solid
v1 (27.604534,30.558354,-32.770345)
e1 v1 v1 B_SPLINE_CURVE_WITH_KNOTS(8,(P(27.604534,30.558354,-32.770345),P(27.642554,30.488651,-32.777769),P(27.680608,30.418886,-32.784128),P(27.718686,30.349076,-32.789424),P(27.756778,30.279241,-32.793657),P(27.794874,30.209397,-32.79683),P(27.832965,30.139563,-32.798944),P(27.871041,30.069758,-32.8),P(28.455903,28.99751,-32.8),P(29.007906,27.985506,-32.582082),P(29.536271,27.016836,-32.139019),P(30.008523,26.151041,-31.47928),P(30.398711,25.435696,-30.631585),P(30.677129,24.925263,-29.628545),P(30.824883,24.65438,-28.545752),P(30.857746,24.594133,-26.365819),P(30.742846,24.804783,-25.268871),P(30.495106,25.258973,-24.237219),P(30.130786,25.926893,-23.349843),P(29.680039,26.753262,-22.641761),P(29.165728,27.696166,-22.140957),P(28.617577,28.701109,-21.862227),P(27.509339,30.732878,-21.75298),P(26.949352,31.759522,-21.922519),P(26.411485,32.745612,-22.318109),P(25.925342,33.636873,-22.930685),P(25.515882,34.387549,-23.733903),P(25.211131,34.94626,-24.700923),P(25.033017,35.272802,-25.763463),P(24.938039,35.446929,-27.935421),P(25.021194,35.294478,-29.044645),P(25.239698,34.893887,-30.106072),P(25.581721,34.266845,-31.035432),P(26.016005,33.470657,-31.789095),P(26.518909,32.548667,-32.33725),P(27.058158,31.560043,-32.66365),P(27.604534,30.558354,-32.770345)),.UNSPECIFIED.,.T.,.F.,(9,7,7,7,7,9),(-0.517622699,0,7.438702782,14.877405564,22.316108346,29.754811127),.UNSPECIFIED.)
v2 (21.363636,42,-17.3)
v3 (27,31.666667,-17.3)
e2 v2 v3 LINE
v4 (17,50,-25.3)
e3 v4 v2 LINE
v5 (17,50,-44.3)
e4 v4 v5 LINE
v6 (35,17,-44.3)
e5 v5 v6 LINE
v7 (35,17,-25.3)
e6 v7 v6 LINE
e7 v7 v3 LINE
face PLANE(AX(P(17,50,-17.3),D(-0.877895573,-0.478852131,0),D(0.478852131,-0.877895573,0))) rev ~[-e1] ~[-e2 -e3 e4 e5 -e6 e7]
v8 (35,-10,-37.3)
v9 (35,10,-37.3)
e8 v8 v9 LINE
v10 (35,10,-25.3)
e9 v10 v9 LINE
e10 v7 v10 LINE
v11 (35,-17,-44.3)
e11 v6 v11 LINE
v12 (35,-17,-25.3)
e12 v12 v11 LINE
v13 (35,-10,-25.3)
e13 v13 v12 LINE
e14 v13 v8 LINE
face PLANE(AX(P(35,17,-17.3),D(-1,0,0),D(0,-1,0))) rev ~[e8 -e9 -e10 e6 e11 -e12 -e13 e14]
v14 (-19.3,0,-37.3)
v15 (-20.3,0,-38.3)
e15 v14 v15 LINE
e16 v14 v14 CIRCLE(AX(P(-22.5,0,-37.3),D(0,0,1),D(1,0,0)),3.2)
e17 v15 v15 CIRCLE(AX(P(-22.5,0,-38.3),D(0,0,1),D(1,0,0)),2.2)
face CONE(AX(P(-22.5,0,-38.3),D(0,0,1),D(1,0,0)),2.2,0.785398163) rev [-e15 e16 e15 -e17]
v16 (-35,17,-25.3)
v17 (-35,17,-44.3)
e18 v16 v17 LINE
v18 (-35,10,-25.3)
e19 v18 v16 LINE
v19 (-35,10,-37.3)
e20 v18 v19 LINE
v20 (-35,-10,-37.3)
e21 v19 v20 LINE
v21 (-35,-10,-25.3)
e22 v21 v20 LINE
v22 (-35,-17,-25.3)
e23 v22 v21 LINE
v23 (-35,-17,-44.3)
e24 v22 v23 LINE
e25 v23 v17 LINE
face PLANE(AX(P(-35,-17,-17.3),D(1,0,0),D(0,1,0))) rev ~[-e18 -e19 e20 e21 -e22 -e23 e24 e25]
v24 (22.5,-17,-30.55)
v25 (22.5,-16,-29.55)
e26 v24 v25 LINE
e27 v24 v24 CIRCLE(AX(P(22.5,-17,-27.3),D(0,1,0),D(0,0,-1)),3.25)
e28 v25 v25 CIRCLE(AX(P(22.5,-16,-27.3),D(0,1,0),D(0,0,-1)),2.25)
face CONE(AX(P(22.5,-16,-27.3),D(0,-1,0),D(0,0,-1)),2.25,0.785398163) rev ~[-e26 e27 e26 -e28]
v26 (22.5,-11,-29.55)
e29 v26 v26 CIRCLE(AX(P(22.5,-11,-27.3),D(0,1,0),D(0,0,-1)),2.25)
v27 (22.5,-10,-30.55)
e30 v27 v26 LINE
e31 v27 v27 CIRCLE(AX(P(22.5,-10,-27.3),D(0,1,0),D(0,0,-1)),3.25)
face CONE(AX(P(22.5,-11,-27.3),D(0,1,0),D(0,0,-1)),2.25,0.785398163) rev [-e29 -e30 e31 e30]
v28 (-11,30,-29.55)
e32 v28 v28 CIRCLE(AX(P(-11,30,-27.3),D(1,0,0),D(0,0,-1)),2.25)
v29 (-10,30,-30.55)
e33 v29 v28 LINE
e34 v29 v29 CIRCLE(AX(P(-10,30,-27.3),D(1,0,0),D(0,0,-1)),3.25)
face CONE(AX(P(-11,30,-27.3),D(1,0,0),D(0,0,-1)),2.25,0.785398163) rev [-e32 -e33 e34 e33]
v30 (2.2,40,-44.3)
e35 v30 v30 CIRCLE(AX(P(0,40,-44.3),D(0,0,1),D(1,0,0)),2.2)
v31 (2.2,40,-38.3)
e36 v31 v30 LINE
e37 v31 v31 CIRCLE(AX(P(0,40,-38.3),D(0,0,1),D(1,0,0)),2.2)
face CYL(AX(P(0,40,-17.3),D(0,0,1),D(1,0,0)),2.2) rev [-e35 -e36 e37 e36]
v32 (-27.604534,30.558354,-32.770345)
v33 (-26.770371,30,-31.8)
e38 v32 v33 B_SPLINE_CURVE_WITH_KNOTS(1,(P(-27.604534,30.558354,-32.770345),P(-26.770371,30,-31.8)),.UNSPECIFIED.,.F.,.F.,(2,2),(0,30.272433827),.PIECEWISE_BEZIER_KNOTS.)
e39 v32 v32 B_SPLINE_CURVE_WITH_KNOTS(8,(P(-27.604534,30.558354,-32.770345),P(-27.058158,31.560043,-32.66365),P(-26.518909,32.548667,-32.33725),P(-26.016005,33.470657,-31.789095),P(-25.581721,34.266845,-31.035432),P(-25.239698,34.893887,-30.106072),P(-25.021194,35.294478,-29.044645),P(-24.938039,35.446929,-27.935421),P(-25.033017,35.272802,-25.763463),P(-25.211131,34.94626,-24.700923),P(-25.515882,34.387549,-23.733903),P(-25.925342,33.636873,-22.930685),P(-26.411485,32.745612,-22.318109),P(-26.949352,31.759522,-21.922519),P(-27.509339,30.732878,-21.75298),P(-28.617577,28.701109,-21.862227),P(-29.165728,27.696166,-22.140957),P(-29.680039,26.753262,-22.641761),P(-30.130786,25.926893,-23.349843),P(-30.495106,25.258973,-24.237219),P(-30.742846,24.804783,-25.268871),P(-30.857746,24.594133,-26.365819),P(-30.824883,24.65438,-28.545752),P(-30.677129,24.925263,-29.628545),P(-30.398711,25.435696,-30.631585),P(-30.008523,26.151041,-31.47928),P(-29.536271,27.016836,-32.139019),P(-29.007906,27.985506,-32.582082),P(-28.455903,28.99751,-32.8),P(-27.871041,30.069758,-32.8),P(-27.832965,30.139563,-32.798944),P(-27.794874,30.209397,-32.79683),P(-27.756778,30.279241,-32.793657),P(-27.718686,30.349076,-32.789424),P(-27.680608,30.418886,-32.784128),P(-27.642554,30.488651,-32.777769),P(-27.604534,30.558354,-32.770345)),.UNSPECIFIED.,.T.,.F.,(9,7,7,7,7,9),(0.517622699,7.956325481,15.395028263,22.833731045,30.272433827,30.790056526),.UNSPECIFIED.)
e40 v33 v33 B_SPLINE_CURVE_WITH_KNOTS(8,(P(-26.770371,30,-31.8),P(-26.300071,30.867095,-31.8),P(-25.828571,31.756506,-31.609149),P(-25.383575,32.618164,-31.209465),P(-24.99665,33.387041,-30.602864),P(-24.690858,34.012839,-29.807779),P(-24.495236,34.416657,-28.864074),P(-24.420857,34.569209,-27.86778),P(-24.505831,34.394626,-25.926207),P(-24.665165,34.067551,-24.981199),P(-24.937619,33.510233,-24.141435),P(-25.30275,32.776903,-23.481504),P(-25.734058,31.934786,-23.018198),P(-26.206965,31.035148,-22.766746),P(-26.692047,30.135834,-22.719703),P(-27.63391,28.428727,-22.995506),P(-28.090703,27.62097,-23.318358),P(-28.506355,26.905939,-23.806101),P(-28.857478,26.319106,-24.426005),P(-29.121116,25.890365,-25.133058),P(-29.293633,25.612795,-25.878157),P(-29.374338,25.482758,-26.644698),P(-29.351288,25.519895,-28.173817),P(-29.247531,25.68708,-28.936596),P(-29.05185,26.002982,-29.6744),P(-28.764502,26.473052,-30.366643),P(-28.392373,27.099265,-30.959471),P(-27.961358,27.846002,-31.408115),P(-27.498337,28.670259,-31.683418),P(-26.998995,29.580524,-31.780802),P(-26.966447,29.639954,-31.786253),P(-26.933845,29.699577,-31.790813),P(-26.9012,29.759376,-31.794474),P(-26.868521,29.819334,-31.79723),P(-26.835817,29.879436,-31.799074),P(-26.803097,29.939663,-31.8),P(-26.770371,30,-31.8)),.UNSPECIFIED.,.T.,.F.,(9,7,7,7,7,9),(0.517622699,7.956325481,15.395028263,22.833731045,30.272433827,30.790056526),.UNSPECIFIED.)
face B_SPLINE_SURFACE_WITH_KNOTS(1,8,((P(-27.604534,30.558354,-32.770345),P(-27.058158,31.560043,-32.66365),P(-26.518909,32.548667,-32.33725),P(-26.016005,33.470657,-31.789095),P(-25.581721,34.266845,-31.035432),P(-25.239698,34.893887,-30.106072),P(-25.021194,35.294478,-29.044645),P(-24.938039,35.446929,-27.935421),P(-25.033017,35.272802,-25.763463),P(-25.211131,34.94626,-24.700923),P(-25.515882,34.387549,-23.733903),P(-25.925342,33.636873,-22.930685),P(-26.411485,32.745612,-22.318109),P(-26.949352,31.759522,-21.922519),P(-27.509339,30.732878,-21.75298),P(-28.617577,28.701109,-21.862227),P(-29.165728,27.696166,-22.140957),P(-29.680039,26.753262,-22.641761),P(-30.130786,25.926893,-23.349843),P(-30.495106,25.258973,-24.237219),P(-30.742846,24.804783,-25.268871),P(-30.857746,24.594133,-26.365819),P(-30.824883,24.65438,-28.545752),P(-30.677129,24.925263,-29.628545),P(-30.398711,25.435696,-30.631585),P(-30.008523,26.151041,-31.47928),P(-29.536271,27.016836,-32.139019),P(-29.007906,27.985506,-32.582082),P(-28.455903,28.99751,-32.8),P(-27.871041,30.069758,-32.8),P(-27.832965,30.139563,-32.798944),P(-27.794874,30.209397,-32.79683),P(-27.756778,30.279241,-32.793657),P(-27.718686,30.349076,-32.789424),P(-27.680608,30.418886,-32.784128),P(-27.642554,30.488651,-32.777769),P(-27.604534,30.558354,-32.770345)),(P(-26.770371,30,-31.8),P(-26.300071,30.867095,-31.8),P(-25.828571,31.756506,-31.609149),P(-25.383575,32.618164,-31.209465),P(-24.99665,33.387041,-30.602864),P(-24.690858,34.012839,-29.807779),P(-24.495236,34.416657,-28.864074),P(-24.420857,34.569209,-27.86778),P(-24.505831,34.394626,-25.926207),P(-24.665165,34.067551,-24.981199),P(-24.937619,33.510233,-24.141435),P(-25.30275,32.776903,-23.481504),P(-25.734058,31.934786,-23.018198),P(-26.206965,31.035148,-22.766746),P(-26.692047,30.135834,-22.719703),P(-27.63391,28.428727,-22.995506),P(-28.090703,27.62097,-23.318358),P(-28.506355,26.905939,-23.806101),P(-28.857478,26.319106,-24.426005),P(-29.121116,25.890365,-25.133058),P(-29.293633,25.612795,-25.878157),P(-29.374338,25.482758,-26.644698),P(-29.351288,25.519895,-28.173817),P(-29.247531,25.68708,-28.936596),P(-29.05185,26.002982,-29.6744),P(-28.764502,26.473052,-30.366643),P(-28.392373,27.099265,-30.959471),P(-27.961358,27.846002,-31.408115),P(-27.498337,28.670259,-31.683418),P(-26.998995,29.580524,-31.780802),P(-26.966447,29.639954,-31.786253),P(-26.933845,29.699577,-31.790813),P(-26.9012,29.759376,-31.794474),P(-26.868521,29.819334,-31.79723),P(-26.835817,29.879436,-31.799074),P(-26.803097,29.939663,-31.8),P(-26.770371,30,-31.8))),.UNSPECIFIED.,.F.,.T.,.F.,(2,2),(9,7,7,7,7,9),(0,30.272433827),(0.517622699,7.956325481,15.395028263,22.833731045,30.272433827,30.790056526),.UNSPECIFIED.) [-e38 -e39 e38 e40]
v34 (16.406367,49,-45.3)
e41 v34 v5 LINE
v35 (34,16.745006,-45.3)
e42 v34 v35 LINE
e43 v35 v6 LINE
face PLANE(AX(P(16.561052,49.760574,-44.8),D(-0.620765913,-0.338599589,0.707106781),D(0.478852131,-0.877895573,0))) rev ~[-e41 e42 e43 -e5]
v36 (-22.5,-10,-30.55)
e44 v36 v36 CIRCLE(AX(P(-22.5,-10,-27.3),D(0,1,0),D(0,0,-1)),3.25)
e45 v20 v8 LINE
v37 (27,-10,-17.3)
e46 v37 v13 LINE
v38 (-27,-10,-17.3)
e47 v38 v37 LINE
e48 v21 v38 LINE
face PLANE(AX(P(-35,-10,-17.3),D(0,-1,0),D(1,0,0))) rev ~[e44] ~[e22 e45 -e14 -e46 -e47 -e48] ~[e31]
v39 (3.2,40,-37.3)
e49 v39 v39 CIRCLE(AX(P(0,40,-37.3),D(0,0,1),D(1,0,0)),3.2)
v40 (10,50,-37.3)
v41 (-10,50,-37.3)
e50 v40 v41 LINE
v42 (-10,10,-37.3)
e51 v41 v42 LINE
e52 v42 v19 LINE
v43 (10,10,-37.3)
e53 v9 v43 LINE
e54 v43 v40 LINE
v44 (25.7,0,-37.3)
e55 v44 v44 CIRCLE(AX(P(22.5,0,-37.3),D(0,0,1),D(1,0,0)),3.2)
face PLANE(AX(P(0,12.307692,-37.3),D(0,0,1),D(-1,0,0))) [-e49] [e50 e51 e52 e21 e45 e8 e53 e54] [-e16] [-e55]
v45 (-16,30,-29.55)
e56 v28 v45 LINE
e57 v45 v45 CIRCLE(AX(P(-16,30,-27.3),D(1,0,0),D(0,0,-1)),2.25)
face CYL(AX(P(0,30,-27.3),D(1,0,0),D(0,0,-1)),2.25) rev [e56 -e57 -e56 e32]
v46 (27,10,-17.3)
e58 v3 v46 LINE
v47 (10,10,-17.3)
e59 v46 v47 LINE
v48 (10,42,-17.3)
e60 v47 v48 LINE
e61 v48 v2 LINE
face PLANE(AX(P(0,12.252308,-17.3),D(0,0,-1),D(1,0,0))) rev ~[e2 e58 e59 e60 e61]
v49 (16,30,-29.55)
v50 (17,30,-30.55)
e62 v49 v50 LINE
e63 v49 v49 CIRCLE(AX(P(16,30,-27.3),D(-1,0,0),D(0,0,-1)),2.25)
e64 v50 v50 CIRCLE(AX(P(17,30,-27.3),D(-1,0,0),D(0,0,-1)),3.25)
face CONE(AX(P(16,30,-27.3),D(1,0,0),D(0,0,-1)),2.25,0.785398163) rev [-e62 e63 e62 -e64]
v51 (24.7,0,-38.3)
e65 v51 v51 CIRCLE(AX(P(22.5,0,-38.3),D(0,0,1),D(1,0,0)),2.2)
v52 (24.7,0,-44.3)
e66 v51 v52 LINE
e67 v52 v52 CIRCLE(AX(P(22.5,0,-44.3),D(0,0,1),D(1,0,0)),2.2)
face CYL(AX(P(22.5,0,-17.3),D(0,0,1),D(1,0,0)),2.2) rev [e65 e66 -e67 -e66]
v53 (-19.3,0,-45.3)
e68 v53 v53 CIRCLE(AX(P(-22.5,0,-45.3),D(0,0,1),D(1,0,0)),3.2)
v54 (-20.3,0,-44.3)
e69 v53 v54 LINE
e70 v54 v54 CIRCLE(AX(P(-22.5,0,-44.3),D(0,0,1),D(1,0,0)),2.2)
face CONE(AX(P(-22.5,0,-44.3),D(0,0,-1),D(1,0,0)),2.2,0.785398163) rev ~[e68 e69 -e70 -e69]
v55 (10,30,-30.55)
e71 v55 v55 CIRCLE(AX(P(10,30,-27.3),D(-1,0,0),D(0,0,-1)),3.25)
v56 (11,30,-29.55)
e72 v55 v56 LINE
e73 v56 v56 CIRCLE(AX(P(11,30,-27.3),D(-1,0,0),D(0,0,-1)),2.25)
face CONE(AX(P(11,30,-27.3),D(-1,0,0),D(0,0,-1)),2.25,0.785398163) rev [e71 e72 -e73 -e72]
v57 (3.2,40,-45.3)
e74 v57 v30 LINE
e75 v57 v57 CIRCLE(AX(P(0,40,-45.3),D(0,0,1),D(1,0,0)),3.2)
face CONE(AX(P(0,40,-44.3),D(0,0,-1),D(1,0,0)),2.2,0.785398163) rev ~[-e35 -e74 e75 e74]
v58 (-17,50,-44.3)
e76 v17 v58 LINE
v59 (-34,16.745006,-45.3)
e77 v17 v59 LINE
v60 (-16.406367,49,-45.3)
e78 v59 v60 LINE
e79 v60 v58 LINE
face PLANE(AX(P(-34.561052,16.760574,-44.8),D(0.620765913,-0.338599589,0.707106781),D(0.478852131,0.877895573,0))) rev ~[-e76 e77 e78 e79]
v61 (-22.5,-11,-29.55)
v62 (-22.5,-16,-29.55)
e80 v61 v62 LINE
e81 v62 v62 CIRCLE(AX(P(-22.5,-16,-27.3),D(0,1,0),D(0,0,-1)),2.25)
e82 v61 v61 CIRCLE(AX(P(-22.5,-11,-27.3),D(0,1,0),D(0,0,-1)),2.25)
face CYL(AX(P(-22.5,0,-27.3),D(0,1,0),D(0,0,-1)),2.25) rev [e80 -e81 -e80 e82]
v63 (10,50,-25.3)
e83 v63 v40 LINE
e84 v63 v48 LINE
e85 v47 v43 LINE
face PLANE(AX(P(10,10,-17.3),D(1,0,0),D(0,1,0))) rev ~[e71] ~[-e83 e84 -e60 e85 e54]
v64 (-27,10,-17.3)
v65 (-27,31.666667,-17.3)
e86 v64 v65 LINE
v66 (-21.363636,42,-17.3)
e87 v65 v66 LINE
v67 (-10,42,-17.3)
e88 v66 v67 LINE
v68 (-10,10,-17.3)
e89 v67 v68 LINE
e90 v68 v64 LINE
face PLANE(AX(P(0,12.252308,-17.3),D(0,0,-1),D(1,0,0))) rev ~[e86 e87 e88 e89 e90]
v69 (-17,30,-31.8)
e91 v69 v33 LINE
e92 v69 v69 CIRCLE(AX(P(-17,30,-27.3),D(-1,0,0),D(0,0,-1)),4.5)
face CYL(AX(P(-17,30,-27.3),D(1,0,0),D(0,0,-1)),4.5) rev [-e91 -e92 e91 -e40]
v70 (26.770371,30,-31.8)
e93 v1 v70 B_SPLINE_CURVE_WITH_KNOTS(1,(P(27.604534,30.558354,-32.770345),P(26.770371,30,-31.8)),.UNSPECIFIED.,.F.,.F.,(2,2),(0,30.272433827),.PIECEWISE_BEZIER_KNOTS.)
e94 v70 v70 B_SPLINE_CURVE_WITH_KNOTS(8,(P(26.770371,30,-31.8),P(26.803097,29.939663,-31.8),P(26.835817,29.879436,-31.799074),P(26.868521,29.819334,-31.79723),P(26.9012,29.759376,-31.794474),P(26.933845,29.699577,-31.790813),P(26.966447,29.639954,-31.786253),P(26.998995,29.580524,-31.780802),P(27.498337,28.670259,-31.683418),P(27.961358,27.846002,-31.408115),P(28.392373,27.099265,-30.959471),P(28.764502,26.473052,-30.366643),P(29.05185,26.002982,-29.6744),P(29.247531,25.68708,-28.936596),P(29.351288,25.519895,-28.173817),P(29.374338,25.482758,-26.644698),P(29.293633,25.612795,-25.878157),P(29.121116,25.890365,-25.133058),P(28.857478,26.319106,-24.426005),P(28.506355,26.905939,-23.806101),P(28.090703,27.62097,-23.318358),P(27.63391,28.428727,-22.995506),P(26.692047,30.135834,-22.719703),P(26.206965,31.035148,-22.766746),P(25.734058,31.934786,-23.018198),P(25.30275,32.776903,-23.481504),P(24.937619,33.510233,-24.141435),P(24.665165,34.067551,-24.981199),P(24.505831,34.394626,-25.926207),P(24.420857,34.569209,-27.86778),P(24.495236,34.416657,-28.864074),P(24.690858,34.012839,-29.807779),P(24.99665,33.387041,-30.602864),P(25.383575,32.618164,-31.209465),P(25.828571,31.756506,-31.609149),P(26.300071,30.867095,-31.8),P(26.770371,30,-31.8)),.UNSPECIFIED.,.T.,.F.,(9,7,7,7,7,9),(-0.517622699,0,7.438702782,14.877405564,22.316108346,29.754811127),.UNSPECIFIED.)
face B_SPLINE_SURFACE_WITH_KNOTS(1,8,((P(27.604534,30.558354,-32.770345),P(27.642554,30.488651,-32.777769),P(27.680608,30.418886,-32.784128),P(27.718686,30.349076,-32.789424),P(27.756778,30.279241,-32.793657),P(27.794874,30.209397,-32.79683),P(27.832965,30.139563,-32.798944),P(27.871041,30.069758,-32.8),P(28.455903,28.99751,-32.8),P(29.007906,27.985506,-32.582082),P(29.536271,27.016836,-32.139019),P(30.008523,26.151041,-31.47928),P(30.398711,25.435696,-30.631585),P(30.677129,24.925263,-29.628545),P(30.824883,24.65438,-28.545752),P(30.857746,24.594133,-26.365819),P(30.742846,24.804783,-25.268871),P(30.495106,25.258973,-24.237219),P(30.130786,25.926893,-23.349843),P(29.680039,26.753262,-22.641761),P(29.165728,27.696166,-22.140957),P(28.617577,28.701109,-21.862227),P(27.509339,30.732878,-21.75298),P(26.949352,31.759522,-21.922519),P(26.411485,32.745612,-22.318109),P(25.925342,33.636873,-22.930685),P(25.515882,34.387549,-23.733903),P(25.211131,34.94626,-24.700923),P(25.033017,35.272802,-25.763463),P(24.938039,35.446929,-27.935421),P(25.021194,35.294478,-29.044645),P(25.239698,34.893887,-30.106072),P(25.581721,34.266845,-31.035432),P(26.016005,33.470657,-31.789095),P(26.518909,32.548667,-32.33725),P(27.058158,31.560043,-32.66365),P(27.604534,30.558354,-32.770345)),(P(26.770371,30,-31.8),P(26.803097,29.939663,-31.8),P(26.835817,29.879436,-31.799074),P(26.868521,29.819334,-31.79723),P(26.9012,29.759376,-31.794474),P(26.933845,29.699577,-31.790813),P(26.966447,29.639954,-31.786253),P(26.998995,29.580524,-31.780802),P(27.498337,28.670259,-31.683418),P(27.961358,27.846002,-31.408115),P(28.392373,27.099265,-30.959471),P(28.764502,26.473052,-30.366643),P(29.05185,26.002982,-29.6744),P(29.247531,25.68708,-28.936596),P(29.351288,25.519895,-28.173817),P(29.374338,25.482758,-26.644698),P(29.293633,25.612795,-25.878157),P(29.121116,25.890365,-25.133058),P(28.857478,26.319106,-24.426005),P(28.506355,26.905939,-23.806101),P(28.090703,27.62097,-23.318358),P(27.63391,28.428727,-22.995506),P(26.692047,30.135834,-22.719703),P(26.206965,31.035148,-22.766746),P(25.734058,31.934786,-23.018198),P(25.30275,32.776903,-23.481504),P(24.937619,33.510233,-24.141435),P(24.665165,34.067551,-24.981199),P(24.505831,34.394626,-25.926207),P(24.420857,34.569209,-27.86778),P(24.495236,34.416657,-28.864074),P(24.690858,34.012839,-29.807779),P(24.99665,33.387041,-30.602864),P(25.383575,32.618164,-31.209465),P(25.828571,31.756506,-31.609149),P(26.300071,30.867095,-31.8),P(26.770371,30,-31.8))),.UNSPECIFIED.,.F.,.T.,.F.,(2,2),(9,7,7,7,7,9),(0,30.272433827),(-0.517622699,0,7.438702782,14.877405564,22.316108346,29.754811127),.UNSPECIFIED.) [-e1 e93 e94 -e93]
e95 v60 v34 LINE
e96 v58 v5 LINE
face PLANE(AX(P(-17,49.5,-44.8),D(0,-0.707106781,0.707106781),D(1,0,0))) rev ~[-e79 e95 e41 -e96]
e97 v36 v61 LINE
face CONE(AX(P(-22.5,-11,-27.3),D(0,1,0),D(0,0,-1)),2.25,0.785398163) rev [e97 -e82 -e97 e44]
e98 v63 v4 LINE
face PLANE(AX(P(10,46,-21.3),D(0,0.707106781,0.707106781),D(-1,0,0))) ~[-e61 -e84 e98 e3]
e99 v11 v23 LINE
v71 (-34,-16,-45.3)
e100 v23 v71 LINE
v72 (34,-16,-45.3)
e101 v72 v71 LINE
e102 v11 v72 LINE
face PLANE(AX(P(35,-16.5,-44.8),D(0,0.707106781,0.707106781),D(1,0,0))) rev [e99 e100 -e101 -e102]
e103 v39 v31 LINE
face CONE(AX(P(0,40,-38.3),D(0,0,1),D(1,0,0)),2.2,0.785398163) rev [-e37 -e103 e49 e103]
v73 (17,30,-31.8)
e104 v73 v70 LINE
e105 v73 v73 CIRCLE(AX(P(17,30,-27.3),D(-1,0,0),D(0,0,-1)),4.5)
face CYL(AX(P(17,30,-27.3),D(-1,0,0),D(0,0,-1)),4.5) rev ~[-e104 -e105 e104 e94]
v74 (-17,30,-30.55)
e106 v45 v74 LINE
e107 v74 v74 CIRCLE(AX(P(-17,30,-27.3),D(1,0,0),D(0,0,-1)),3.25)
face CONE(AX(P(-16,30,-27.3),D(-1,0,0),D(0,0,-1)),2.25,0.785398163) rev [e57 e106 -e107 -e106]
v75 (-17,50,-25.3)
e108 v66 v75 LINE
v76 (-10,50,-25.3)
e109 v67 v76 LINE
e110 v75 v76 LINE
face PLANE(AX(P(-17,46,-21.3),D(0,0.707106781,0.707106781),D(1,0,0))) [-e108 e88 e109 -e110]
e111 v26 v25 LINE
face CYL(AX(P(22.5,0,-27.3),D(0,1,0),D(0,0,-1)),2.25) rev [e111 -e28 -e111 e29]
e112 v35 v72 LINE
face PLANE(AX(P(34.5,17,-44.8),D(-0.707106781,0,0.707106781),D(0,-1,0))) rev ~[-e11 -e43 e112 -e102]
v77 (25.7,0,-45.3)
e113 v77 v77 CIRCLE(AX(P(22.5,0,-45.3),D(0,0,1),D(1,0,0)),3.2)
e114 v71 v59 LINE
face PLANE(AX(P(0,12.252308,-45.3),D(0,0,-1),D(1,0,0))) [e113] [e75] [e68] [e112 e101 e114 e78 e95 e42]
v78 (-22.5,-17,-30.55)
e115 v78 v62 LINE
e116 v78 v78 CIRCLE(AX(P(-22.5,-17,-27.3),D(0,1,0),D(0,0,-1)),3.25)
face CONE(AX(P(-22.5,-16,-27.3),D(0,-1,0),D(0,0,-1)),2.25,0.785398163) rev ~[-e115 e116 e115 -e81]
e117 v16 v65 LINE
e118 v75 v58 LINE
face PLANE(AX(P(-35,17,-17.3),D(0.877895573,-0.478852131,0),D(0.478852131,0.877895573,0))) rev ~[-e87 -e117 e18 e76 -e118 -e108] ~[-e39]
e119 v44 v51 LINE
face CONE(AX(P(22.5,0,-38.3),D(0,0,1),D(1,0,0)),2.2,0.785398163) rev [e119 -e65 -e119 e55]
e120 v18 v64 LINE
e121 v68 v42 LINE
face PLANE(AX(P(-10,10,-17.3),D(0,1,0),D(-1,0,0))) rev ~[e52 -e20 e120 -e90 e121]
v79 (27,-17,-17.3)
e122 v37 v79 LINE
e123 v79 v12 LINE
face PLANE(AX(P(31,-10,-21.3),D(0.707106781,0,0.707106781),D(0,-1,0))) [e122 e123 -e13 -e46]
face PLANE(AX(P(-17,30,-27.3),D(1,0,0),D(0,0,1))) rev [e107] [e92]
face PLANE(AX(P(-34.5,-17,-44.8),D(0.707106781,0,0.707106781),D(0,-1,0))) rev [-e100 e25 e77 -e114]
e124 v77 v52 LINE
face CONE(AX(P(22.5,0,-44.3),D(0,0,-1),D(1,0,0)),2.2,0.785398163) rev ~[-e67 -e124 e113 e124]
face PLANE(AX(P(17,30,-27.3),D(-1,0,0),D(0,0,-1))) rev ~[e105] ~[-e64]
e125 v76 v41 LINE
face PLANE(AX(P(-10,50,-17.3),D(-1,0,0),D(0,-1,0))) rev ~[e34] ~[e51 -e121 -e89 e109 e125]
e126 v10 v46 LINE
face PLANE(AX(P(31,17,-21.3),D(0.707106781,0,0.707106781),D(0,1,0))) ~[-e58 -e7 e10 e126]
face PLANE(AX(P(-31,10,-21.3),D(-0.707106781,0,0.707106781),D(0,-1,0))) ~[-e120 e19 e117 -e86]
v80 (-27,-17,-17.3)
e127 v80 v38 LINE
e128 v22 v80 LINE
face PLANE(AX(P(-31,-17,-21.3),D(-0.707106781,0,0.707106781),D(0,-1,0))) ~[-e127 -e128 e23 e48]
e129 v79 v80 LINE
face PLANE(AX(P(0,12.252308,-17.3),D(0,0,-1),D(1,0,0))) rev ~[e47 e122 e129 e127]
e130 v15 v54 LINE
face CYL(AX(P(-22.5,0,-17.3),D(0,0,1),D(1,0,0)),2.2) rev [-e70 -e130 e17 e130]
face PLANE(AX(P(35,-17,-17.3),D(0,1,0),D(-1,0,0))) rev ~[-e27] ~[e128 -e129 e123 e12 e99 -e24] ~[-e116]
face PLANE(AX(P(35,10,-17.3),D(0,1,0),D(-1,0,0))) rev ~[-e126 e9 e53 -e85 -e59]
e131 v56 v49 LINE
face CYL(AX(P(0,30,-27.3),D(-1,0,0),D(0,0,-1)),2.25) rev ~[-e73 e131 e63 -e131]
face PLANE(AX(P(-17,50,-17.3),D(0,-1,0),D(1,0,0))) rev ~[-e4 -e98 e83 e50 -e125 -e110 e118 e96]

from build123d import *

# Parameters (mm, degrees)
PAD014_DEPTH            = 28
POCKET008_DEPTH         = 20
SKETCH024_R             = 2.2
POCKET009_DEPTH         = 28.001
SKETCH025_R             = 2.25
POCKET010_DEPTH         = 17.001
SKETCH026_R             = 2.25
POCKET011_DEPTH         = 35.001
POCKET011_DEPTH_BACK    = 35.001
SKETCH027_R             = 4.5
POCKET012_DEPTH         = 219.723582
CHAMFER005_SIZE         = 8
CHAMFER006_SIZE         = 1
BODY008_PITCH_ANGLE     = 90
BODY008_PLACEMENT_ANGLE = -90


with BuildPart() as part:
    # Sketch022 → Pad014 (new body)
    with BuildSketch(Plane.YZ):
        Polygon((-35, 17), (-35, -17), (-17, -50), (17, -50), (35, -17), (35, 17), align=None)
    extrude(amount=PAD014_DEPTH)

    # Sketch023 → Pocket008 (cut)
    with BuildSketch(Plane.YZ):
        Polygon((-35, 10), (35, 10), (35, -10), (10, -10), (10, -50), (-10, -50), (-10, -10), (-35, -10), align=None)
    extrude(amount=POCKET008_DEPTH, mode=Mode.SUBTRACT)

    # Sketch024 → Pocket009 (cut, through all)
    with BuildSketch(Plane.YZ):
        with Locations((-22.5, 0)):
            Circle(SKETCH024_R)
        with Locations((22.5, 0)):
            Circle(SKETCH024_R)
        with Locations((0, -40)):
            Circle(SKETCH024_R)
    extrude(amount=POCKET009_DEPTH, mode=Mode.SUBTRACT)

    # Sketch025 → Pocket010 (cut, through all)
    with BuildSketch(Plane.XY):
        with Locations((10, 22.5)):
            Circle(SKETCH025_R)
        with Locations((10, -22.5)):
            Circle(SKETCH025_R)
    extrude(amount=POCKET010_DEPTH, mode=Mode.SUBTRACT)

    # Sketch026 → Pocket011 (cut, two sides)
    with BuildSketch(Plane.XZ) as pocket011_sk:
        with Locations((10, -30)):
            Circle(SKETCH026_R)
    extrude(amount=-POCKET011_DEPTH, mode=Mode.SUBTRACT)
    extrude(pocket011_sk.sketch, amount=POCKET011_DEPTH_BACK, mode=Mode.SUBTRACT)

    # Sketch027 (on Plane of DatumPlane) → Pocket012 (cut, through all)
    with BuildSketch(Plane.XZ.offset(-17)):
        with Locations((10, -30)):
            Circle(SKETCH027_R)
    pocket012 = extrude(amount=-POCKET012_DEPTH, mode=Mode.SUBTRACT)

    # Mirrored002: Pocket012 across XZ
    add(pocket012.mirror(Plane.XZ), mode=Mode.SUBTRACT)

    # Chamfer005
    chamfer005_edges = [part.edges().sort_by_distance(p)[0] for p in [
        (0, -35, 13.5),
        (0, 35, 13.5),
        (0, -13.5, -50),
        (0, 13.5, -50),
        (0, 35, -13.5),
        (0, -35, -13.5),
    ]]
    chamfer(chamfer005_edges, length=CHAMFER005_SIZE)

    # Chamfer006
    chamfer006_edges = [part.edges().sort_by_distance(p)[0] for p in [
        (28, -35, 0),
        (28, 0, 17),
        (28, -26, -33.5),
        (28, 35, 0),
        (28, 0, -50),
        (28, 26, -33.5),
        (28, 20.3, 0),
        (28, -2.2, -40),
        (28, -24.7, 0),
        (7.75, -22.5, 17),
        (7.75, 22.5, 17),
        (7.75, 22.5, 10),
        (7.75, -22.5, 10),
        (7.75, 10, -30),
        (7.75, -10, -30),
        (7.75, -17, -30),
        (7.75, 17, -30),
        (5.5, 27.909049, -30.000078),
        (5.5, -27.909133, -29.999922),
        (20, -2.2, -40),
        (20, 20.3, 0),
        (20, -24.7, 0),
    ]]
    chamfer(chamfer006_edges, length=CHAMFER006_SIZE)


with BuildPart() as part_1:
    # Body008 pitch: moved
    add(part.part.rotate(Axis((0, 0, 0), (0, 1, 0)), BODY008_PITCH_ANGLE))


with BuildPart() as part_2:
    # Body008 placement: moved
    add(part_1.part.moved(Location((0, 0, -17.3))).rotate(Axis((0, 0, -17.3), (0, 0, 1)), BODY008_PLACEMENT_ANGLE))


solid = part_2.part
